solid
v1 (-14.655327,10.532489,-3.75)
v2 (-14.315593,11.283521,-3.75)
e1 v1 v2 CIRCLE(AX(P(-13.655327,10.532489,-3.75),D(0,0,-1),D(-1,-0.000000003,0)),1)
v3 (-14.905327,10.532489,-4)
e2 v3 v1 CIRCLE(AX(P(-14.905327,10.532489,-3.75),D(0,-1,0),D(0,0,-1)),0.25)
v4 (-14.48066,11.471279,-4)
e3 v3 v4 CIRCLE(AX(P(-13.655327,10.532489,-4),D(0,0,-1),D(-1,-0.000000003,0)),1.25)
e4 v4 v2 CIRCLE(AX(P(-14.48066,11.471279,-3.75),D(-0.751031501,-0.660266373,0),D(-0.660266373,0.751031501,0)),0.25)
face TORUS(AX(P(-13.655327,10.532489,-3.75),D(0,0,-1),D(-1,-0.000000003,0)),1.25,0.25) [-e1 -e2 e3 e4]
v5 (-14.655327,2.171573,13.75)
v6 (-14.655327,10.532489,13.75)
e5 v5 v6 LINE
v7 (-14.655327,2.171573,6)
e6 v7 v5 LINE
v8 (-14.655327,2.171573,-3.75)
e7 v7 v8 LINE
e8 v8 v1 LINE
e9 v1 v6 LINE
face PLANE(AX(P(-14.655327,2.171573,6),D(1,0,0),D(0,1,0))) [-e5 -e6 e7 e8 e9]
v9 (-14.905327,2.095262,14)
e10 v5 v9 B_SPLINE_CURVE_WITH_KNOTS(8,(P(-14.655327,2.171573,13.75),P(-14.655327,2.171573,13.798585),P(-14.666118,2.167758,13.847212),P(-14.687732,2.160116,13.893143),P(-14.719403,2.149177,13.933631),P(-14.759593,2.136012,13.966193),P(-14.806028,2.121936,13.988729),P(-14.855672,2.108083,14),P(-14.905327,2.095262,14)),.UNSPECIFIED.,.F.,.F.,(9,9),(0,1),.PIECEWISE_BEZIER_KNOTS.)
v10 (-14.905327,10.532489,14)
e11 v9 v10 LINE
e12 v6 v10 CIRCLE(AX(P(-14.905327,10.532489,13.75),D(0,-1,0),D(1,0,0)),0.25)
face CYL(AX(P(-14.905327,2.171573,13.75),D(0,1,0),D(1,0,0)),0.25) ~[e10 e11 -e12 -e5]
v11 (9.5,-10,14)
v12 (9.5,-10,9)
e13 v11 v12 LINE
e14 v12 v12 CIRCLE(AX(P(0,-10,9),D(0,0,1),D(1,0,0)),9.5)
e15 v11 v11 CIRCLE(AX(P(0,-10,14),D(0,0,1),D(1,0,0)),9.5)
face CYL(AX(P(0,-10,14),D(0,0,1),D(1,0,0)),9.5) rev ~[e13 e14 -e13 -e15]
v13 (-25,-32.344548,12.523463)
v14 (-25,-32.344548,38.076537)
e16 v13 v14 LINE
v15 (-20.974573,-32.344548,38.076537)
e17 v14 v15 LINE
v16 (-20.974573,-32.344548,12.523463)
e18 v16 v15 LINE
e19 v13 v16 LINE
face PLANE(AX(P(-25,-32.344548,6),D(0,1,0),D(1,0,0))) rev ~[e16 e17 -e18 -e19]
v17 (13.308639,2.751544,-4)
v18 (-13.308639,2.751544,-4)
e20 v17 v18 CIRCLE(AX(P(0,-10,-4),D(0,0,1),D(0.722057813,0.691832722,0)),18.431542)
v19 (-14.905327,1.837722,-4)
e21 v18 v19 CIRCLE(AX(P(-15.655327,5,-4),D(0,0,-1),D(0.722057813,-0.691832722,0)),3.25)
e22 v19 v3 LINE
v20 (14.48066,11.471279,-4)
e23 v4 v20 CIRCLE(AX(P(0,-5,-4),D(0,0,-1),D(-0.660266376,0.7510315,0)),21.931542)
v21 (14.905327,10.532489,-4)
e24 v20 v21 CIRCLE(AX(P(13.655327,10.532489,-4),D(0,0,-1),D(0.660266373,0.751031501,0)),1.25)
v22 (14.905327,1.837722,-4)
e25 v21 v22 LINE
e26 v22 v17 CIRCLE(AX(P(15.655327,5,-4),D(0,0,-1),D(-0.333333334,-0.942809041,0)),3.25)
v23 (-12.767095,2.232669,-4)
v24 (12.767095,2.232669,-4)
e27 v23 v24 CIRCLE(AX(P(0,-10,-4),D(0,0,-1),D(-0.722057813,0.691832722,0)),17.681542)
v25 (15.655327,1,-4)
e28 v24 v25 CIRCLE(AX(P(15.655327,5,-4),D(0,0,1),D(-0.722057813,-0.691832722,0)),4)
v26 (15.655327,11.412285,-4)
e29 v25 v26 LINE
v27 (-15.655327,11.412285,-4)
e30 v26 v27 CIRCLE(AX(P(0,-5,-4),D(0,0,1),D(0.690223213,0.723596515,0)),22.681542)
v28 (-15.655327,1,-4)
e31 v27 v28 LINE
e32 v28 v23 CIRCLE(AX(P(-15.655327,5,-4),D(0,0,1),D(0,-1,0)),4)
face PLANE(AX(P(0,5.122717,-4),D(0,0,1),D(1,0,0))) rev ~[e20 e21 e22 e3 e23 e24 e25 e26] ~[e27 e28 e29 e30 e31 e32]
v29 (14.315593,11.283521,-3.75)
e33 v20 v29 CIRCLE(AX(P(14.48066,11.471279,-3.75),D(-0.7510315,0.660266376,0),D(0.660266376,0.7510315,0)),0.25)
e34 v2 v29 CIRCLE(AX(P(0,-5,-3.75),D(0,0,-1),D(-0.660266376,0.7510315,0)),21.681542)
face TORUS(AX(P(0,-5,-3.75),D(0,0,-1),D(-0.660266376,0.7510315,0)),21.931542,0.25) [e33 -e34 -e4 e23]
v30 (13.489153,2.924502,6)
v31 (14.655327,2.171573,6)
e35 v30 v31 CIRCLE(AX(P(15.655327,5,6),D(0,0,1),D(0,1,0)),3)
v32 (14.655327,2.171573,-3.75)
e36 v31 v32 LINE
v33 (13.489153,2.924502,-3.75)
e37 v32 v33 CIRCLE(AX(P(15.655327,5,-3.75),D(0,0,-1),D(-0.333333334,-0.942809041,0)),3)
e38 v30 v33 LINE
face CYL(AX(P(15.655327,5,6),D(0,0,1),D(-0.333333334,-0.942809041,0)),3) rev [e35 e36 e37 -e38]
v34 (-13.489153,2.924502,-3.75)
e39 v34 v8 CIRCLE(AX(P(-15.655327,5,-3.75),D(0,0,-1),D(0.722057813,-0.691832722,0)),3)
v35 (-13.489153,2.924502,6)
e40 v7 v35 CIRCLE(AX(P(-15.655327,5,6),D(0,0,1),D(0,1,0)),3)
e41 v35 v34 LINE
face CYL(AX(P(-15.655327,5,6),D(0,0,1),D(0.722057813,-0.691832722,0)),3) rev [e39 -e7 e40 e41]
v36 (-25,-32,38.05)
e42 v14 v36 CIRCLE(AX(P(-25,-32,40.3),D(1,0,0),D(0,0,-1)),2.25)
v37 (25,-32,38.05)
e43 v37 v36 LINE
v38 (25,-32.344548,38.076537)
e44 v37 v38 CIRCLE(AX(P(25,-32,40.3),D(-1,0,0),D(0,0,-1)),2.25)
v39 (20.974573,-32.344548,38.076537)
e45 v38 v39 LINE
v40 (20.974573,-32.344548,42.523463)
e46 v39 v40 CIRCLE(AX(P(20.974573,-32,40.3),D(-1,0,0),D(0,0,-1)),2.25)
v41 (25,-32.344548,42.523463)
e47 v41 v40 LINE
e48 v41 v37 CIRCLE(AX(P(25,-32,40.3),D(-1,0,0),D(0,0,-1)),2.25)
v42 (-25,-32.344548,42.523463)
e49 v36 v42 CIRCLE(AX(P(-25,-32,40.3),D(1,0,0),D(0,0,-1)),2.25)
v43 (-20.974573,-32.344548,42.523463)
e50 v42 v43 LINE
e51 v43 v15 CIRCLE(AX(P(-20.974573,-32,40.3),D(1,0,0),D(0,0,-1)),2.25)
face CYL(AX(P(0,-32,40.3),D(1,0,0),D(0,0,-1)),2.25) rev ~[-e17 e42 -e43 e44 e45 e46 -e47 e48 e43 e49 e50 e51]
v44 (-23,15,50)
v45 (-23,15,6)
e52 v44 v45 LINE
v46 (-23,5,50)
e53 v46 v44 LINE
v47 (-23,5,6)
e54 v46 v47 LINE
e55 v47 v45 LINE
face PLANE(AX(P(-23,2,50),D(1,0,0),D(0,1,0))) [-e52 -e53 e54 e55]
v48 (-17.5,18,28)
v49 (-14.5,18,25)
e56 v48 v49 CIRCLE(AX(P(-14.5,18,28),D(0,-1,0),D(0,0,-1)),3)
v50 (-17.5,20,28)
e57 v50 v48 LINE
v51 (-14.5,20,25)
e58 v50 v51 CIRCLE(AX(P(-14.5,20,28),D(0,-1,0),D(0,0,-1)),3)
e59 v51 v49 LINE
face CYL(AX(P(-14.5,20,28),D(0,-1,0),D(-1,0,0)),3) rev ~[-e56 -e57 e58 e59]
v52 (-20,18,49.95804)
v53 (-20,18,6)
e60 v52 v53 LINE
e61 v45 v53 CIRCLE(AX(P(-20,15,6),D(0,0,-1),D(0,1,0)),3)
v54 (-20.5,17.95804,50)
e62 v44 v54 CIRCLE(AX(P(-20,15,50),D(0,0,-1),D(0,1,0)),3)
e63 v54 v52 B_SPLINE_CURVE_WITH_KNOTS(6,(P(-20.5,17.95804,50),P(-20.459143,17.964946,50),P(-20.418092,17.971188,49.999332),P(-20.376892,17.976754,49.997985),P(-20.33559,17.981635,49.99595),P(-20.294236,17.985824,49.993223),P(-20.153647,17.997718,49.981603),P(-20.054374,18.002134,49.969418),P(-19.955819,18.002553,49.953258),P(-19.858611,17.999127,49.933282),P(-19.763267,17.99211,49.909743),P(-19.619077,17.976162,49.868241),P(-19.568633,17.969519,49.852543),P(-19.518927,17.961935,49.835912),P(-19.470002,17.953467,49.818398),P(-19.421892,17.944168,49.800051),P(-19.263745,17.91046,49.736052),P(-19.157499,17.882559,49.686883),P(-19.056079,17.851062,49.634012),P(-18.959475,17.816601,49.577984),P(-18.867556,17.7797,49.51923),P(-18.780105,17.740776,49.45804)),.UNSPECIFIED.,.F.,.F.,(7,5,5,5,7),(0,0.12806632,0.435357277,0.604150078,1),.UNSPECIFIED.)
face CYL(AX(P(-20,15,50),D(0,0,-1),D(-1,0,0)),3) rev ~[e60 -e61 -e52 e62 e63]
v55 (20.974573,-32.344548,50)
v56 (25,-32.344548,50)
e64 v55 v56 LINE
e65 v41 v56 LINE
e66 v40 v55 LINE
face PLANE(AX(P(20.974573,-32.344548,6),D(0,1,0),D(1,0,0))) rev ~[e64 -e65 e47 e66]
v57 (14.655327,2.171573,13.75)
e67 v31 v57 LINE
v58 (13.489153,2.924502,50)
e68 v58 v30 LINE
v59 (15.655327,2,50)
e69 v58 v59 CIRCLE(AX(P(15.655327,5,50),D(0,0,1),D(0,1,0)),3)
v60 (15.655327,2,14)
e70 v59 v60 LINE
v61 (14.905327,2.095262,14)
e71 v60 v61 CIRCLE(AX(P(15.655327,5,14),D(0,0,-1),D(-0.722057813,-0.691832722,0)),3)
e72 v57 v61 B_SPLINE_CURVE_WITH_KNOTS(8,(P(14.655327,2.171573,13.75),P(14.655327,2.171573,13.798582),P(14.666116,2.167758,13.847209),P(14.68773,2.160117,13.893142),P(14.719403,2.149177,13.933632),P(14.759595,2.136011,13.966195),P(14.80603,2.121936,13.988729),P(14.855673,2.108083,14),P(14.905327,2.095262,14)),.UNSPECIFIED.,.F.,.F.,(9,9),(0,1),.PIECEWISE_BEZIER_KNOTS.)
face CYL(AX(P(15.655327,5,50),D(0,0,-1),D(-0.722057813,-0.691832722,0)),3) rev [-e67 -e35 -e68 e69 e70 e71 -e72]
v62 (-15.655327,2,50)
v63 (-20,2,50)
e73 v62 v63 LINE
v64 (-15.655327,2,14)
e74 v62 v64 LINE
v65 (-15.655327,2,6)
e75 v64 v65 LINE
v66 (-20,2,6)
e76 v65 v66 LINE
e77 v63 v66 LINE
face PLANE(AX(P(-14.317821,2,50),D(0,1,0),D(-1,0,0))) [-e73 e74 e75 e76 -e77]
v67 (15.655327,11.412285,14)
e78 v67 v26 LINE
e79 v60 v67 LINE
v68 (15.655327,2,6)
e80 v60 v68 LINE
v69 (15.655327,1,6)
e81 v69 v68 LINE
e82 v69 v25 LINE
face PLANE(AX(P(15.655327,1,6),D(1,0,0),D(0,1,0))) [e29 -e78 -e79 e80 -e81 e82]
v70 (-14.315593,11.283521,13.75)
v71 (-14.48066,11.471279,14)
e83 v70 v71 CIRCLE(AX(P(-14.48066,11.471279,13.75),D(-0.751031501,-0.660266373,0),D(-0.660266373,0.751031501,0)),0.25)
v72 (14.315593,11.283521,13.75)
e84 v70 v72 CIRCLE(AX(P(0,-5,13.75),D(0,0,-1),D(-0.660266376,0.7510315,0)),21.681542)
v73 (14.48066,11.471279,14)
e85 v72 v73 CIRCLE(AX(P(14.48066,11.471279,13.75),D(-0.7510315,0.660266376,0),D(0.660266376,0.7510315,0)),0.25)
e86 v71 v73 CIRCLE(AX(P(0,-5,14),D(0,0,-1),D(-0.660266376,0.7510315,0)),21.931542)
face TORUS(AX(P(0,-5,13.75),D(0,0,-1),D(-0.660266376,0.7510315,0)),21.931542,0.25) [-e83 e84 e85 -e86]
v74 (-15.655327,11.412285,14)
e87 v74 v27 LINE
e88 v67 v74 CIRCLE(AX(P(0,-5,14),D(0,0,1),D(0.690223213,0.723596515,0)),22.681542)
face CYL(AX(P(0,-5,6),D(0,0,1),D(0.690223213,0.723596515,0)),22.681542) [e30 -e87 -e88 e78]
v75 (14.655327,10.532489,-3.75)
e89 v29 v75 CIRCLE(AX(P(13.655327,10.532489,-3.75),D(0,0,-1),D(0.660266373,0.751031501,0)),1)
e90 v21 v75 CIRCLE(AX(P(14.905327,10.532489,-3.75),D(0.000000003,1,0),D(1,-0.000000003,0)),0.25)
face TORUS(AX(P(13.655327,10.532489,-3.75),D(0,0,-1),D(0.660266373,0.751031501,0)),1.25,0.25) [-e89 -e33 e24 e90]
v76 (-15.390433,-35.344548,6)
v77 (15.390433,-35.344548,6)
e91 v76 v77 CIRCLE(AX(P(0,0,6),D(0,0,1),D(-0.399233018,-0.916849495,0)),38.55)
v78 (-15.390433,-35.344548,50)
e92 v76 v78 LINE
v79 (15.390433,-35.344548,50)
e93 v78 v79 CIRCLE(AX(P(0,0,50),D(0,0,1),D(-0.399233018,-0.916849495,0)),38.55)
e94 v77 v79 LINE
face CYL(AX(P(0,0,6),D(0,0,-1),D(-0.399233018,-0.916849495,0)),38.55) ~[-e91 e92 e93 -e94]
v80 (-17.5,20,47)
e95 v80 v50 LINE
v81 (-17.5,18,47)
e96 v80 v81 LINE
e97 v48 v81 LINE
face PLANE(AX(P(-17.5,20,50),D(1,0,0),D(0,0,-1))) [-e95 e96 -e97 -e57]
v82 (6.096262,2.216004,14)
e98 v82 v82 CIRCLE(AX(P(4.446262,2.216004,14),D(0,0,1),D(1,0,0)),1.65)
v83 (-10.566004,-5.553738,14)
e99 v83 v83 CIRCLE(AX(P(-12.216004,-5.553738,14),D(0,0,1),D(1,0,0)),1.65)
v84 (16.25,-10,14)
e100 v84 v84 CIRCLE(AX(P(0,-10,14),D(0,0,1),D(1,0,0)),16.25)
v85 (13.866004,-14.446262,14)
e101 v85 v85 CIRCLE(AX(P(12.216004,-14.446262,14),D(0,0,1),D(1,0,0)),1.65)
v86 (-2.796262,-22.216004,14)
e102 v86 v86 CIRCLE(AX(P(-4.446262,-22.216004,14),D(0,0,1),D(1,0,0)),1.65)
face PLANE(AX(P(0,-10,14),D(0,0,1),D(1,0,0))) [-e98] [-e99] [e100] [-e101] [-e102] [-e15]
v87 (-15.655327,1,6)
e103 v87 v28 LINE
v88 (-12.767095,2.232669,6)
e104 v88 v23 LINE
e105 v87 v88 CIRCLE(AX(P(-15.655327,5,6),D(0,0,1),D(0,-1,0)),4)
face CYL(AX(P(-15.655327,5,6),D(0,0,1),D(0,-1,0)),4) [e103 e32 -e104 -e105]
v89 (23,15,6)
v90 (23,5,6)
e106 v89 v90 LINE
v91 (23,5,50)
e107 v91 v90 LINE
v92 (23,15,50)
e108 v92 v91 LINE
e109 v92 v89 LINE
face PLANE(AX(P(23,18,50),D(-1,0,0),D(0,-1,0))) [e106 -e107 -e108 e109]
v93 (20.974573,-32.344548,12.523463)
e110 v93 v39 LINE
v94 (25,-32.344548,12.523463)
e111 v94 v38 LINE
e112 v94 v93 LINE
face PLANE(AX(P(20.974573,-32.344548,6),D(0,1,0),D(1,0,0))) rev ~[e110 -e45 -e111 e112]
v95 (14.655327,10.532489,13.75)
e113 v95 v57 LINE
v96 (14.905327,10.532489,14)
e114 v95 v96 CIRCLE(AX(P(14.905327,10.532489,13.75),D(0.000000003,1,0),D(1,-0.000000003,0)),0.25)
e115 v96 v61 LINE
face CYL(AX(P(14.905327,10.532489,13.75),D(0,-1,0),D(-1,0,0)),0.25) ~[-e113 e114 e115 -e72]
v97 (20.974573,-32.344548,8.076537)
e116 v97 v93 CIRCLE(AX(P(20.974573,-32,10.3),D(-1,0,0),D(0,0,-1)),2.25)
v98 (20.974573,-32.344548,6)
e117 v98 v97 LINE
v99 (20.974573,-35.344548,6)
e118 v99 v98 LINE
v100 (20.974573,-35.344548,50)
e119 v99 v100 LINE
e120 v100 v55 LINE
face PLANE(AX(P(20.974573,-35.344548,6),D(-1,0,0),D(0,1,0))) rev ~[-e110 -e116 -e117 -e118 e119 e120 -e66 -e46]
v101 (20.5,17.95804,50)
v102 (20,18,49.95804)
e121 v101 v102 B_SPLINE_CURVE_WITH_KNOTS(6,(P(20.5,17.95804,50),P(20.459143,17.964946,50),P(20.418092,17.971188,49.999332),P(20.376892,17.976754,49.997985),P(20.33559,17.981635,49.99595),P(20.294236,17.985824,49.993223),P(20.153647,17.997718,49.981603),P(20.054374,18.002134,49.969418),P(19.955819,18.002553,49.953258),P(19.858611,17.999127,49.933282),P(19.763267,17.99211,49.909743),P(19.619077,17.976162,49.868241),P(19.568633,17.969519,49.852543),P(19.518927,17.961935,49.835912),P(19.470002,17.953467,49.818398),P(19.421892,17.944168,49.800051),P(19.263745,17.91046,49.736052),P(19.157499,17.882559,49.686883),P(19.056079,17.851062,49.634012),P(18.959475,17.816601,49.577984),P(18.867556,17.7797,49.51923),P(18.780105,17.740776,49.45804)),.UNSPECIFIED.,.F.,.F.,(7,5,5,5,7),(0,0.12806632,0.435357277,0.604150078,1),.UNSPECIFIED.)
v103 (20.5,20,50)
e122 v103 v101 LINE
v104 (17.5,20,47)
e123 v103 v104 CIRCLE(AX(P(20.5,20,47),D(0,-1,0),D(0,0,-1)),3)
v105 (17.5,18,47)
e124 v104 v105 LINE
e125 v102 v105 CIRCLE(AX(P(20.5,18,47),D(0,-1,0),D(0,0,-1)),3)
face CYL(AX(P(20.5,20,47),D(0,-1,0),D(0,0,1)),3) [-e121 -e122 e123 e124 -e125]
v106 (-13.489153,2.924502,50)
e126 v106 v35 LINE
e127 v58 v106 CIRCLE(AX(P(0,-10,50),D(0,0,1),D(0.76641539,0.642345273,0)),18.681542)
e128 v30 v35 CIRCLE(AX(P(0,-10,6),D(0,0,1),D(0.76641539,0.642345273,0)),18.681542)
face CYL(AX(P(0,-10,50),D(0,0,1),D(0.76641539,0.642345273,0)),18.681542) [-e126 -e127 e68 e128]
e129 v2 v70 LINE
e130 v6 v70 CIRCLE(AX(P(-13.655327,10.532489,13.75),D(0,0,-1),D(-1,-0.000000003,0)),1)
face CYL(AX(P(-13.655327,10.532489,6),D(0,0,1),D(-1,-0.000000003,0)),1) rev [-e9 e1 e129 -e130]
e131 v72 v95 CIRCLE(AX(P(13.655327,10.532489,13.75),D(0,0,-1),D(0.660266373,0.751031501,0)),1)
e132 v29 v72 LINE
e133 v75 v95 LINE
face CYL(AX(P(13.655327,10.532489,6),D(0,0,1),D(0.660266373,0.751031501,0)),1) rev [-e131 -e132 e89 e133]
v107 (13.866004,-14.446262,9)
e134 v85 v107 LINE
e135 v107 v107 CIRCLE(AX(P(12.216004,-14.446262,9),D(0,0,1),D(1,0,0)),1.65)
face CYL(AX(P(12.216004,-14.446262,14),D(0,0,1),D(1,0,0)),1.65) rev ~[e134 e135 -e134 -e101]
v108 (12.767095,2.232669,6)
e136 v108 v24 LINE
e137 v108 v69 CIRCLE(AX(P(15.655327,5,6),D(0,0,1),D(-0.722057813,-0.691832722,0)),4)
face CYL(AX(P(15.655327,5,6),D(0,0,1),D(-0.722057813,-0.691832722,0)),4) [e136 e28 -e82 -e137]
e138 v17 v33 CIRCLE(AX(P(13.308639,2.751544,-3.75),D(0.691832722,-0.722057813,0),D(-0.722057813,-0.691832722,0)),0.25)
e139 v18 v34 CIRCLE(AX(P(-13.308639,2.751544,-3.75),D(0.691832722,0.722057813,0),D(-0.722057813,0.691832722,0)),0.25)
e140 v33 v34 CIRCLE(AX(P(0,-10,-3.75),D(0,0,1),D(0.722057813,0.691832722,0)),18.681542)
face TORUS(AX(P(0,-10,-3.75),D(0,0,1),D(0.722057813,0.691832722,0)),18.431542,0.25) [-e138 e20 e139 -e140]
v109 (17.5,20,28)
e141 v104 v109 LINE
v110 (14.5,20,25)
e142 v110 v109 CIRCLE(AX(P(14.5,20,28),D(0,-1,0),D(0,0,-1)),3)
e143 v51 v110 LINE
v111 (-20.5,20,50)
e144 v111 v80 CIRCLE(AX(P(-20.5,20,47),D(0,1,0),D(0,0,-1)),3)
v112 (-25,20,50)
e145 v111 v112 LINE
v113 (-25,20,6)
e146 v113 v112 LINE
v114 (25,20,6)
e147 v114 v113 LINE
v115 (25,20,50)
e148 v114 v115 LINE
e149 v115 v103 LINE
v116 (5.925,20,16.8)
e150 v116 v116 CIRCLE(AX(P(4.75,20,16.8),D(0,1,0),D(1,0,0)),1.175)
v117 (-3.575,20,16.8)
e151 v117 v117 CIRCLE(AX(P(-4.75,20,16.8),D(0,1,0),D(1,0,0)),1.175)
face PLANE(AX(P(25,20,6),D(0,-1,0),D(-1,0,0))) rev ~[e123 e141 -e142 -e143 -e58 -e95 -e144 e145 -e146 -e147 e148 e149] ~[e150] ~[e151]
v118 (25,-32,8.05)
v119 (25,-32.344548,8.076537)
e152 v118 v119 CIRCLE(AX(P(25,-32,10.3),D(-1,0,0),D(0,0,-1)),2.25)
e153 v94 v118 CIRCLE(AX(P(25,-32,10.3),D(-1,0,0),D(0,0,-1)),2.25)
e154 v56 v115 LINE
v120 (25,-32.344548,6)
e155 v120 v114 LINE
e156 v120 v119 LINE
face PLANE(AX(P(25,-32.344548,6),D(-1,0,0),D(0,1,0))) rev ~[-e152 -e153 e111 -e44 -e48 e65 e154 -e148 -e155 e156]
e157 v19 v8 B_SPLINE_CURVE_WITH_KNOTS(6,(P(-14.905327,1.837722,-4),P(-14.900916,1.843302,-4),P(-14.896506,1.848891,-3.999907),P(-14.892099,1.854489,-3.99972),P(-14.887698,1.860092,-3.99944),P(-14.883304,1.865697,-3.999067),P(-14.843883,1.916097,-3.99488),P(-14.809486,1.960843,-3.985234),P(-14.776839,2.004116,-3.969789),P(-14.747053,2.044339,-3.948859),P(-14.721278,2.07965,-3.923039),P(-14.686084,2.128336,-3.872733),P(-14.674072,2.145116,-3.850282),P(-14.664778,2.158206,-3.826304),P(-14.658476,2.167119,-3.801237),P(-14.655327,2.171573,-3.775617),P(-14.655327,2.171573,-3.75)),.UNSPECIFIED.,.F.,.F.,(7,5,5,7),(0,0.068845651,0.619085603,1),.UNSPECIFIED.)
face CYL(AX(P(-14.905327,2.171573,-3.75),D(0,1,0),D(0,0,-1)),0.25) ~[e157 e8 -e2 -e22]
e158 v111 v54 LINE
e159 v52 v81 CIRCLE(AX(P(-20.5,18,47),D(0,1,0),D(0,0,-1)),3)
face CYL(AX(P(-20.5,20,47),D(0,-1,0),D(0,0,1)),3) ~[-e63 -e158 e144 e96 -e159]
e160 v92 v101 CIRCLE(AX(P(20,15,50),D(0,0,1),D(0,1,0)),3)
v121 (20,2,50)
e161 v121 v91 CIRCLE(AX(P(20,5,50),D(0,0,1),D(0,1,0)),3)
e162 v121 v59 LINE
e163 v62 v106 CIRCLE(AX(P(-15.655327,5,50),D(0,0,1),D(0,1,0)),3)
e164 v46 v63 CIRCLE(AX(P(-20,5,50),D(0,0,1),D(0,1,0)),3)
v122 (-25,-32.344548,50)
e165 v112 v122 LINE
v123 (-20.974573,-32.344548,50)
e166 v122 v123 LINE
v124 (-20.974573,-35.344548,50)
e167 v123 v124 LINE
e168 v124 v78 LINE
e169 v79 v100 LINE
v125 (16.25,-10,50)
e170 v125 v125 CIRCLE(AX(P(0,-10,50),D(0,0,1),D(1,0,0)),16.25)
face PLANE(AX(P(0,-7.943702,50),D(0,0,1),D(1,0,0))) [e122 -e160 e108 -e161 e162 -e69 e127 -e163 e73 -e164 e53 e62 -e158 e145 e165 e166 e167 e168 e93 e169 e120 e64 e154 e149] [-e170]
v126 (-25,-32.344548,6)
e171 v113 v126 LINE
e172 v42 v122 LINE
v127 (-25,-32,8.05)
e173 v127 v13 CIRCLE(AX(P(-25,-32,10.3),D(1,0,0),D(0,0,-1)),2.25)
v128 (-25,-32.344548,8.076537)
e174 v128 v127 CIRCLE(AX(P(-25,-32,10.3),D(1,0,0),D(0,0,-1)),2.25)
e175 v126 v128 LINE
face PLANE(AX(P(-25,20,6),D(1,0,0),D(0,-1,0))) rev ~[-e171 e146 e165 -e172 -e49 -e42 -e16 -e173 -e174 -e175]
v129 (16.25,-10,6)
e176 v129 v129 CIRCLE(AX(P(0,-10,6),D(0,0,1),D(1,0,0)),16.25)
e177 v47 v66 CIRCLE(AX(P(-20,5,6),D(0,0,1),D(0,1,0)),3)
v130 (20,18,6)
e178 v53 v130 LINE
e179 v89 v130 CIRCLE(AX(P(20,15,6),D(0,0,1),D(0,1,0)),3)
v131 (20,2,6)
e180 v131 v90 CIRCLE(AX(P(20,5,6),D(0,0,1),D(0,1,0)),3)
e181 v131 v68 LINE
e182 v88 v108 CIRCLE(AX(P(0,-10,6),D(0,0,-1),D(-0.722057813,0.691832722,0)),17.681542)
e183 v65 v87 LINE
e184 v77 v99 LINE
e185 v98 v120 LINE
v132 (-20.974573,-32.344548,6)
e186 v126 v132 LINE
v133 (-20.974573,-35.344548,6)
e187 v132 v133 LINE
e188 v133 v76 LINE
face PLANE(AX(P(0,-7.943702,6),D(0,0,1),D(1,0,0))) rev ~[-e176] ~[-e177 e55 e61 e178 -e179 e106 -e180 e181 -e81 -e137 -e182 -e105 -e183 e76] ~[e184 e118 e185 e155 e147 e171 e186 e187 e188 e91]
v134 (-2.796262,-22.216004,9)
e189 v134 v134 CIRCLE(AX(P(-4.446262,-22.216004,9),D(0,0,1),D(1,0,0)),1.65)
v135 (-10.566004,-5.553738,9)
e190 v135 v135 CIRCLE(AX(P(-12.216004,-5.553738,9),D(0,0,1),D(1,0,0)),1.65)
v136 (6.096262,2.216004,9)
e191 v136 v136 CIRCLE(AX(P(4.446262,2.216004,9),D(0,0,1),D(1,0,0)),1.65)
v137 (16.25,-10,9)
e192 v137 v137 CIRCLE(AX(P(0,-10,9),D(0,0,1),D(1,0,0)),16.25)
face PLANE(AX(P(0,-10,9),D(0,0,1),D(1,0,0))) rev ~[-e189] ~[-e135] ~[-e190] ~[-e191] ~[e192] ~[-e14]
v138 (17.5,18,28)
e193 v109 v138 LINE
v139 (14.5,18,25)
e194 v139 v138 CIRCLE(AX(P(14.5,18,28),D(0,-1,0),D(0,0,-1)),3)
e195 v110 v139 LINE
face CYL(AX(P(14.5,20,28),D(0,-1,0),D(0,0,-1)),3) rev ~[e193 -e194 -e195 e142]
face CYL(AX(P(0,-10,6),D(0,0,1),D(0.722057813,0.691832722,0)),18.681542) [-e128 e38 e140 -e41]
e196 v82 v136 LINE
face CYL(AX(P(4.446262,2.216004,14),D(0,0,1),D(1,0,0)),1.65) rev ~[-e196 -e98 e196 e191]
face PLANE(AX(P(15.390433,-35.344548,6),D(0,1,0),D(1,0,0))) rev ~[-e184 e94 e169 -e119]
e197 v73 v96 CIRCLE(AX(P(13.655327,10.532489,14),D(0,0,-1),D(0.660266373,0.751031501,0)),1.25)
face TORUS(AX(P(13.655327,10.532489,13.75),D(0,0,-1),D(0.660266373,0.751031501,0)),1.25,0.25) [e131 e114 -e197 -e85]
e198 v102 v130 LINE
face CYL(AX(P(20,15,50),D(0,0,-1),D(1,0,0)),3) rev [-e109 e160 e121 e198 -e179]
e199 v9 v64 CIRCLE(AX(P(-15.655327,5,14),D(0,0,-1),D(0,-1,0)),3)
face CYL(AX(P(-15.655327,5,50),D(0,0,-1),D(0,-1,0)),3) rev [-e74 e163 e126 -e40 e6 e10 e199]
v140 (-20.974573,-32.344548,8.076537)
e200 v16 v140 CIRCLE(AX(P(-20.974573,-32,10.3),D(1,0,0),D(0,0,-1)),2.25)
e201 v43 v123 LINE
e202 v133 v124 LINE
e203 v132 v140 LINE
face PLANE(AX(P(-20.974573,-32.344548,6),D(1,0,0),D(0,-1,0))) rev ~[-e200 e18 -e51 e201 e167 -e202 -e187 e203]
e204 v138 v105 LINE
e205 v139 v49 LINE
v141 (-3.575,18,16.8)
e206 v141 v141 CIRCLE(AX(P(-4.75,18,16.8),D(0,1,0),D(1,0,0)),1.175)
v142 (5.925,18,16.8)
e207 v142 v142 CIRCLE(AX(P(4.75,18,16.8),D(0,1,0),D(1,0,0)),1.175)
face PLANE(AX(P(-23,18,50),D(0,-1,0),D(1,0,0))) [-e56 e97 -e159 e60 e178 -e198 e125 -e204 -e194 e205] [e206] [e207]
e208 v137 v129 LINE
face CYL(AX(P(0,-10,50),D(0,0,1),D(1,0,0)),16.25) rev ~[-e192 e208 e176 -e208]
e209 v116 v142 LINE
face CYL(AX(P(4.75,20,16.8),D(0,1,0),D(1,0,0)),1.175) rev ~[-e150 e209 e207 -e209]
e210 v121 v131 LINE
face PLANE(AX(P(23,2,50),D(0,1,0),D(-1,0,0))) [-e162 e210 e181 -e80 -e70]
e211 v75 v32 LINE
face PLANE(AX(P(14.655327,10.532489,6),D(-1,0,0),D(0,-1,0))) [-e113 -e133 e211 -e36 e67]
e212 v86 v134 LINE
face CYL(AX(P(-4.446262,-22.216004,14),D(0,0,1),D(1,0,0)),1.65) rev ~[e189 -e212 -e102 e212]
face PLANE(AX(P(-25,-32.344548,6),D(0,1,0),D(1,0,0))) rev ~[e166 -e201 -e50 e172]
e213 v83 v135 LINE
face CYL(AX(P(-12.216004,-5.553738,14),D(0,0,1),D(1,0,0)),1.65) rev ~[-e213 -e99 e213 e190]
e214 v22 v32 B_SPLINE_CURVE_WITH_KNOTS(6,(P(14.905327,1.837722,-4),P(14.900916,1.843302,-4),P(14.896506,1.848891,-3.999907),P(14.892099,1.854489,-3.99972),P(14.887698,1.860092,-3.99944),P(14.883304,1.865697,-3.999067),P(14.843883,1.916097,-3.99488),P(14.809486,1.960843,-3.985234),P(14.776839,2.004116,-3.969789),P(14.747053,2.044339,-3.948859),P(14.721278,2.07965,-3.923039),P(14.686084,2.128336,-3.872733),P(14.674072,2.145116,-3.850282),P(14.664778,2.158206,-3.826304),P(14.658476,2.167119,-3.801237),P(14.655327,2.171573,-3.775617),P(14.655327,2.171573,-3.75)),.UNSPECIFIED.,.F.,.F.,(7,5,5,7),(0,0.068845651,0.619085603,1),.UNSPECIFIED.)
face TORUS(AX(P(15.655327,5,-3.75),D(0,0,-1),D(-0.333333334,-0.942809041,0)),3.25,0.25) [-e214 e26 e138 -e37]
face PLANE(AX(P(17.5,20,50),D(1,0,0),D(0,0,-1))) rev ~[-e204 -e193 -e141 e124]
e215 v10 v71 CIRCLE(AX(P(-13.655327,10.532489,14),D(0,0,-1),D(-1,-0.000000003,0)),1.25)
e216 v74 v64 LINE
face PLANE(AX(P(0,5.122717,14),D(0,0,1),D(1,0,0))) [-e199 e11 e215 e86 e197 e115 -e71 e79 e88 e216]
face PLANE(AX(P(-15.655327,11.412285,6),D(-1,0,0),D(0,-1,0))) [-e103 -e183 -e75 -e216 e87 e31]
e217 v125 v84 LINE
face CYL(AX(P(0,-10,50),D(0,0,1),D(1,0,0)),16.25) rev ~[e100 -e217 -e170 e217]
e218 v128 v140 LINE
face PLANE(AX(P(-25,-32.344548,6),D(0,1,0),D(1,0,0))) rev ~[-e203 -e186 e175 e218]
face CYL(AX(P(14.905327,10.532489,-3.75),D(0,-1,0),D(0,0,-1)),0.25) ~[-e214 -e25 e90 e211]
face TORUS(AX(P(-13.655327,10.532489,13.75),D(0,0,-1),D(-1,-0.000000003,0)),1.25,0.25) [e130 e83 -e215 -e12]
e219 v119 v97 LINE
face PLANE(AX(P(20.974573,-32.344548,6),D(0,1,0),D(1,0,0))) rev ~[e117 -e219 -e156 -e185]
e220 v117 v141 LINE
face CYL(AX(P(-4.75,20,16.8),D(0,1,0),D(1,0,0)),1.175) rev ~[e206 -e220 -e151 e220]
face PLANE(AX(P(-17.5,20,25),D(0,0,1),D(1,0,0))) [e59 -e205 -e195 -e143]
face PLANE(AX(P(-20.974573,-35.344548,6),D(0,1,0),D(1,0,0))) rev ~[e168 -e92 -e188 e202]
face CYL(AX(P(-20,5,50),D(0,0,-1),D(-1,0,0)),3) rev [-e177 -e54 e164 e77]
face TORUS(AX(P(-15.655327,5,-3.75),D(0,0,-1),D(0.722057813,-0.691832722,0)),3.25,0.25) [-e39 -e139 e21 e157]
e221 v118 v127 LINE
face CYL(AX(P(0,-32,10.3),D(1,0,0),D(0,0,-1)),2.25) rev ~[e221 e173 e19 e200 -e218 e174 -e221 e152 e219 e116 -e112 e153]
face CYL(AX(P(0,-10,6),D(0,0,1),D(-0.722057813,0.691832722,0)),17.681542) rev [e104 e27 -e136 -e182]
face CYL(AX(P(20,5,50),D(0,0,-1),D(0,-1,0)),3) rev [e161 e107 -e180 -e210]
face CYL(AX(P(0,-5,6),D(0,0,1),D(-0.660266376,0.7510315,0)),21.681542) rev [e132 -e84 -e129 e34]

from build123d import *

# Parameters (mm, degrees)
BOSS_EXTRUDE2_START      = 6
BOSS_EXTRUDE2_DEPTH      = 44
SKETCH2_R                = 16.25
CUT_EXTRUDE1_DEPTH       = 1
CUT_EXTRUDE1_DEPTH_BACK  = 45
CUT_EXTRUDE3_DEPTH       = 45
FILLET1_R                = 3
SKETCH5_W                = 35
SKETCH5_H                = 25
CUT_EXTRUDE4_DEPTH       = 10
FILLET2_R                = 3
SKETCH6_R                = 16.25
SKETCH6_R_2              = 9.5
SKETCH6_R_3              = 1.65
BOSS_EXTRUDE3_DEPTH      = 5
SKETCH7_R                = 2.25
CUT_EXTRUDE5_DEPTH       = 26
CUT_EXTRUDE5_DEPTH_BACK  = 26
CUT_EXTRUDE6_REACH       = 60.55
SKETCH8_R                = 1.175
BOSS_EXTRUDE4_START      = -44
BOSS_EXTRUDE4_DEPTH      = 8
BOSS_EXTRUDE4_DEPTH_BACK = 10
FILLET5_R                = 0.25
FILLET6_R                = 0.25


with BuildPart() as part:
    # Sketch1 → Boss-Extrude2 (new body)
    with BuildSketch(Plane.XY.offset(BOSS_EXTRUDE2_START)):
        with BuildLine():
            Line((-25, 0), (-25, -29.344548046))
            Line((-25, -29.344548046), (-25, -32.344548046))
            Line((-25, -32.344548046), (-20.974572981, -32.344548046))
            Line((-20.974572981, -32.344548046), (-20.974572981, -35.344548046))
            Line((-20.974572981, -35.344548046), (-15.390432855, -35.344548046))
            ThreePointArc((-15.390432855, -35.344548046), (0, -38.55), (15.390432855, -35.344548046))
            Line((15.390432855, -35.344548046), (20.974572981, -35.344548046))
            Line((20.974572981, -35.344548046), (20.974572981, -32.344548046))
            Line((20.974572981, -32.344548046), (25, -32.344548046))
            Line((25, -32.344548046), (25, -29.344548046))
            Line((25, -29.344548046), (25, 0))
            Line((25, 0), (25, 20))
            Line((25, 20), (-25, 20))
            Line((-25, 20), (-25, 0))
        make_face()
    extrude(amount=BOSS_EXTRUDE2_DEPTH)

    # Sketch2 → Cut-Extrude1 (cut, two sides)
    with BuildSketch(Plane.XY.offset(50)) as cut_extrude1_sk:
        with Locations((0, -10)):
            Circle(SKETCH2_R)
    extrude(amount=CUT_EXTRUDE1_DEPTH, mode=Mode.SUBTRACT)
    extrude(cut_extrude1_sk.sketch, amount=-CUT_EXTRUDE1_DEPTH_BACK, mode=Mode.SUBTRACT)

    # Sketch4 → Cut-Extrude3 (cut, through all)
    with BuildSketch(Plane.XY.offset(50)):
        with BuildLine():
            Line((-23, 18), (23, 18))
            Line((23, 18), (23, 2))
            Line((23, 2), (14.317821063, 2))
            ThreePointArc((14.317821063, 2), (0, 8.681541692), (-14.317821063, 2))
            Line((-14.317821063, 2), (-23, 2))
            Line((-23, 2), (-23, 18))
        make_face()
    extrude(amount=-CUT_EXTRUDE3_DEPTH, mode=Mode.SUBTRACT)

    # Fillet1
    fillet1_edges = [part.edges().sort_by_distance(p)[0] for p in [
        (23, 18, 28),
        (23, 2, 28),
        (14.317821063, 2, 28),
        (-14.317821063, 2, 28),
        (-23, 2, 28),
        (-23, 18, 28),
    ]]
    fillet(fillet1_edges, radius=FILLET1_R)

    # Sketch5 → Cut-Extrude4 (cut)
    with BuildSketch(Plane(origin=(0, 20, 0), x_dir=(1, 0, 0), z_dir=(0, 1, 0))):
        with Locations((0, -37.5)):
            Rectangle(SKETCH5_W, SKETCH5_H)
    extrude(amount=-CUT_EXTRUDE4_DEPTH, mode=Mode.SUBTRACT)

    # Fillet2
    fillet2_edges = [part.edges().sort_by_distance(p)[0] for p in [
        (17.5, 19, 50),
        (17.5, 19, 25),
        (-17.5, 19, 25),
        (-17.5, 19, 50),
    ]]
    fillet(fillet2_edges, radius=FILLET2_R)

    # Sketch6 → Boss-Extrude3 (add)
    with BuildSketch(Plane.XY.offset(14)):
        with Locations((0, -10)):
            Circle(SKETCH6_R)
        with Locations((0, -10)):
            Circle(SKETCH6_R_2, mode=Mode.SUBTRACT)
        with Locations((4.446261863, 2.21600407)):
            Circle(SKETCH6_R_3, mode=Mode.SUBTRACT)
        with Locations((12.21600407, -14.446261863)):
            Circle(SKETCH6_R_3, mode=Mode.SUBTRACT)
        with Locations((-4.446261863, -22.21600407)):
            Circle(SKETCH6_R_3, mode=Mode.SUBTRACT)
        with Locations((-12.21600407, -5.553738137)):
            Circle(SKETCH6_R_3, mode=Mode.SUBTRACT)
    extrude(amount=-BOSS_EXTRUDE3_DEPTH)

    # Sketch7 → Cut-Extrude5 (cut, two sides)
    with BuildSketch(Plane(origin=(0, 0, 0), x_dir=(0, 0, -1), z_dir=(1, 0, 0))) as cut_extrude5_sk:
        with Locations((-40.3, -32)):
            Circle(SKETCH7_R)
        with Locations((-10.3, -32)):
            Circle(SKETCH7_R)
    extrude(amount=CUT_EXTRUDE5_DEPTH, mode=Mode.SUBTRACT)
    extrude(cut_extrude5_sk.sketch, amount=-CUT_EXTRUDE5_DEPTH_BACK, mode=Mode.SUBTRACT)

    # Sketch8 → Cut-Extrude6 (cut, up to next)
    with BuildSketch(Plane(origin=(0, 20, 0), x_dir=(1, 0, 0), z_dir=(0, 1, 0)), mode=Mode.PRIVATE) as cut_extrude6_sk1:
        with Locations((-4.75, -16.8)):
            Circle(SKETCH8_R)
    cut_extrude6_tool1 = extrude(cut_extrude6_sk1.sketch, amount=-CUT_EXTRUDE6_REACH, mode=Mode.PRIVATE) & part.part
    add(cut_extrude6_tool1.solids().sort_by_distance((-4.75, 20, 16.8))[0], mode=Mode.SUBTRACT)
    # Sketch8 → Cut-Extrude6 (cut, up to next)
    with BuildSketch(Plane(origin=(0, 20, 0), x_dir=(1, 0, 0), z_dir=(0, 1, 0)), mode=Mode.PRIVATE) as cut_extrude6_sk2:
        with Locations((4.75, -16.8)):
            Circle(SKETCH8_R)
    cut_extrude6_tool2 = extrude(cut_extrude6_sk2.sketch, amount=-CUT_EXTRUDE6_REACH, mode=Mode.PRIVATE) & part.part
    add(cut_extrude6_tool2.solids().sort_by_distance((4.75, 20, 16.8))[0], mode=Mode.SUBTRACT)

    # Sketch9 → Boss-Extrude4 (add, two sides)
    with BuildSketch(Plane.XY.offset(50).offset(BOSS_EXTRUDE4_START)) as boss_extrude4_sk:
        with BuildLine():
            ThreePointArc((-14.655326574, 2.171572875), (-15.148020638, 2.043204321), (-15.655326574, 2))
            Line((-15.655326574, 2), (-15.655326574, 1))
            ThreePointArc((-15.655326574, 1), (-14.085187018, 1.32105154), (-12.767095323, 2.232669113))
            ThreePointArc((-12.767095323, 2.232669113), (0, 7.681541692), (12.767095323, 2.232669113))
            ThreePointArc((12.767095323, 2.232669113), (14.085187018, 1.32105154), (15.655326574, 1))
            Line((15.655326574, 1), (15.655326574, 2))
            ThreePointArc((15.655326574, 2), (15.148020638, 2.043204321), (14.655326574, 2.171572875))
            ThreePointArc((14.655326574, 2.171572875), (14.028093012, 2.479660552), (13.489153136, 2.924501835))
            ThreePointArc((13.489153136, 2.924501835), (0, 8.681541692), (-13.489153136, 2.924501835))
            ThreePointArc((-13.489153136, 2.924501835), (-14.028093012, 2.479660552), (-14.655326574, 2.171572875))
        make_face()
        with BuildLine():
            Line((-15.655326574, 11.412284527), (-15.655326574, 2))
            ThreePointArc((-15.655326574, 2), (-15.148020638, 2.043204321), (-14.655326574, 2.171572875))
            Line((-14.655326574, 2.171572875), (-14.655326574, 10.53248927))
            ThreePointArc((-14.655326574, 10.53248927), (-14.566443026, 10.944638287), (-14.31559295, 11.283520769))
            ThreePointArc((-14.31559295, 11.283520769), (0, 16.681541692), (14.31559295, 11.283520769))
            ThreePointArc((14.31559295, 11.283520769), (14.566443026, 10.944638287), (14.655326574, 10.53248927))
            Line((14.655326574, 10.53248927), (14.655326574, 2.171572875))
            ThreePointArc((14.655326574, 2.171572875), (15.148020638, 2.043204321), (15.655326574, 2))
            Line((15.655326574, 2), (15.655326574, 11.412284527))
            ThreePointArc((15.655326574, 11.412284527), (0, 17.681541692), (-15.655326574, 11.412284527))
        make_face()
    extrude(amount=BOSS_EXTRUDE4_DEPTH)
    extrude(boss_extrude4_sk.sketch, amount=-BOSS_EXTRUDE4_DEPTH_BACK)

    # Fillet5
    fillet5_edges = [part.edges().sort_by_distance(p)[0] for p in [
        (0, 8.681541692, -4),
        (14.566443026, 10.944638287, -4),
        (0, 16.681541692, -4),
        (-14.566443026, 10.944638287, -4),
        (-14.028093012, 2.479660552, -4),
        (14.028093012, 2.479660552, -4),
        (14.655326574, 6.352031072, -4),
        (-14.655326574, 6.352031072, -4),
    ]]
    fillet(fillet5_edges, radius=FILLET5_R)

    # Fillet6
    fillet6_edges = [part.edges().sort_by_distance(p)[0] for p in [
        (-14.655326574, 6.352031072, 14),
        (0, 16.681541692, 14),
        (14.566443026, 10.944638287, 14),
        (14.655326574, 6.352031072, 14),
        (-14.566443026, 10.944638287, 14),
    ]]
    fillet(fillet6_edges, radius=FILLET6_R)


solid = part.part
